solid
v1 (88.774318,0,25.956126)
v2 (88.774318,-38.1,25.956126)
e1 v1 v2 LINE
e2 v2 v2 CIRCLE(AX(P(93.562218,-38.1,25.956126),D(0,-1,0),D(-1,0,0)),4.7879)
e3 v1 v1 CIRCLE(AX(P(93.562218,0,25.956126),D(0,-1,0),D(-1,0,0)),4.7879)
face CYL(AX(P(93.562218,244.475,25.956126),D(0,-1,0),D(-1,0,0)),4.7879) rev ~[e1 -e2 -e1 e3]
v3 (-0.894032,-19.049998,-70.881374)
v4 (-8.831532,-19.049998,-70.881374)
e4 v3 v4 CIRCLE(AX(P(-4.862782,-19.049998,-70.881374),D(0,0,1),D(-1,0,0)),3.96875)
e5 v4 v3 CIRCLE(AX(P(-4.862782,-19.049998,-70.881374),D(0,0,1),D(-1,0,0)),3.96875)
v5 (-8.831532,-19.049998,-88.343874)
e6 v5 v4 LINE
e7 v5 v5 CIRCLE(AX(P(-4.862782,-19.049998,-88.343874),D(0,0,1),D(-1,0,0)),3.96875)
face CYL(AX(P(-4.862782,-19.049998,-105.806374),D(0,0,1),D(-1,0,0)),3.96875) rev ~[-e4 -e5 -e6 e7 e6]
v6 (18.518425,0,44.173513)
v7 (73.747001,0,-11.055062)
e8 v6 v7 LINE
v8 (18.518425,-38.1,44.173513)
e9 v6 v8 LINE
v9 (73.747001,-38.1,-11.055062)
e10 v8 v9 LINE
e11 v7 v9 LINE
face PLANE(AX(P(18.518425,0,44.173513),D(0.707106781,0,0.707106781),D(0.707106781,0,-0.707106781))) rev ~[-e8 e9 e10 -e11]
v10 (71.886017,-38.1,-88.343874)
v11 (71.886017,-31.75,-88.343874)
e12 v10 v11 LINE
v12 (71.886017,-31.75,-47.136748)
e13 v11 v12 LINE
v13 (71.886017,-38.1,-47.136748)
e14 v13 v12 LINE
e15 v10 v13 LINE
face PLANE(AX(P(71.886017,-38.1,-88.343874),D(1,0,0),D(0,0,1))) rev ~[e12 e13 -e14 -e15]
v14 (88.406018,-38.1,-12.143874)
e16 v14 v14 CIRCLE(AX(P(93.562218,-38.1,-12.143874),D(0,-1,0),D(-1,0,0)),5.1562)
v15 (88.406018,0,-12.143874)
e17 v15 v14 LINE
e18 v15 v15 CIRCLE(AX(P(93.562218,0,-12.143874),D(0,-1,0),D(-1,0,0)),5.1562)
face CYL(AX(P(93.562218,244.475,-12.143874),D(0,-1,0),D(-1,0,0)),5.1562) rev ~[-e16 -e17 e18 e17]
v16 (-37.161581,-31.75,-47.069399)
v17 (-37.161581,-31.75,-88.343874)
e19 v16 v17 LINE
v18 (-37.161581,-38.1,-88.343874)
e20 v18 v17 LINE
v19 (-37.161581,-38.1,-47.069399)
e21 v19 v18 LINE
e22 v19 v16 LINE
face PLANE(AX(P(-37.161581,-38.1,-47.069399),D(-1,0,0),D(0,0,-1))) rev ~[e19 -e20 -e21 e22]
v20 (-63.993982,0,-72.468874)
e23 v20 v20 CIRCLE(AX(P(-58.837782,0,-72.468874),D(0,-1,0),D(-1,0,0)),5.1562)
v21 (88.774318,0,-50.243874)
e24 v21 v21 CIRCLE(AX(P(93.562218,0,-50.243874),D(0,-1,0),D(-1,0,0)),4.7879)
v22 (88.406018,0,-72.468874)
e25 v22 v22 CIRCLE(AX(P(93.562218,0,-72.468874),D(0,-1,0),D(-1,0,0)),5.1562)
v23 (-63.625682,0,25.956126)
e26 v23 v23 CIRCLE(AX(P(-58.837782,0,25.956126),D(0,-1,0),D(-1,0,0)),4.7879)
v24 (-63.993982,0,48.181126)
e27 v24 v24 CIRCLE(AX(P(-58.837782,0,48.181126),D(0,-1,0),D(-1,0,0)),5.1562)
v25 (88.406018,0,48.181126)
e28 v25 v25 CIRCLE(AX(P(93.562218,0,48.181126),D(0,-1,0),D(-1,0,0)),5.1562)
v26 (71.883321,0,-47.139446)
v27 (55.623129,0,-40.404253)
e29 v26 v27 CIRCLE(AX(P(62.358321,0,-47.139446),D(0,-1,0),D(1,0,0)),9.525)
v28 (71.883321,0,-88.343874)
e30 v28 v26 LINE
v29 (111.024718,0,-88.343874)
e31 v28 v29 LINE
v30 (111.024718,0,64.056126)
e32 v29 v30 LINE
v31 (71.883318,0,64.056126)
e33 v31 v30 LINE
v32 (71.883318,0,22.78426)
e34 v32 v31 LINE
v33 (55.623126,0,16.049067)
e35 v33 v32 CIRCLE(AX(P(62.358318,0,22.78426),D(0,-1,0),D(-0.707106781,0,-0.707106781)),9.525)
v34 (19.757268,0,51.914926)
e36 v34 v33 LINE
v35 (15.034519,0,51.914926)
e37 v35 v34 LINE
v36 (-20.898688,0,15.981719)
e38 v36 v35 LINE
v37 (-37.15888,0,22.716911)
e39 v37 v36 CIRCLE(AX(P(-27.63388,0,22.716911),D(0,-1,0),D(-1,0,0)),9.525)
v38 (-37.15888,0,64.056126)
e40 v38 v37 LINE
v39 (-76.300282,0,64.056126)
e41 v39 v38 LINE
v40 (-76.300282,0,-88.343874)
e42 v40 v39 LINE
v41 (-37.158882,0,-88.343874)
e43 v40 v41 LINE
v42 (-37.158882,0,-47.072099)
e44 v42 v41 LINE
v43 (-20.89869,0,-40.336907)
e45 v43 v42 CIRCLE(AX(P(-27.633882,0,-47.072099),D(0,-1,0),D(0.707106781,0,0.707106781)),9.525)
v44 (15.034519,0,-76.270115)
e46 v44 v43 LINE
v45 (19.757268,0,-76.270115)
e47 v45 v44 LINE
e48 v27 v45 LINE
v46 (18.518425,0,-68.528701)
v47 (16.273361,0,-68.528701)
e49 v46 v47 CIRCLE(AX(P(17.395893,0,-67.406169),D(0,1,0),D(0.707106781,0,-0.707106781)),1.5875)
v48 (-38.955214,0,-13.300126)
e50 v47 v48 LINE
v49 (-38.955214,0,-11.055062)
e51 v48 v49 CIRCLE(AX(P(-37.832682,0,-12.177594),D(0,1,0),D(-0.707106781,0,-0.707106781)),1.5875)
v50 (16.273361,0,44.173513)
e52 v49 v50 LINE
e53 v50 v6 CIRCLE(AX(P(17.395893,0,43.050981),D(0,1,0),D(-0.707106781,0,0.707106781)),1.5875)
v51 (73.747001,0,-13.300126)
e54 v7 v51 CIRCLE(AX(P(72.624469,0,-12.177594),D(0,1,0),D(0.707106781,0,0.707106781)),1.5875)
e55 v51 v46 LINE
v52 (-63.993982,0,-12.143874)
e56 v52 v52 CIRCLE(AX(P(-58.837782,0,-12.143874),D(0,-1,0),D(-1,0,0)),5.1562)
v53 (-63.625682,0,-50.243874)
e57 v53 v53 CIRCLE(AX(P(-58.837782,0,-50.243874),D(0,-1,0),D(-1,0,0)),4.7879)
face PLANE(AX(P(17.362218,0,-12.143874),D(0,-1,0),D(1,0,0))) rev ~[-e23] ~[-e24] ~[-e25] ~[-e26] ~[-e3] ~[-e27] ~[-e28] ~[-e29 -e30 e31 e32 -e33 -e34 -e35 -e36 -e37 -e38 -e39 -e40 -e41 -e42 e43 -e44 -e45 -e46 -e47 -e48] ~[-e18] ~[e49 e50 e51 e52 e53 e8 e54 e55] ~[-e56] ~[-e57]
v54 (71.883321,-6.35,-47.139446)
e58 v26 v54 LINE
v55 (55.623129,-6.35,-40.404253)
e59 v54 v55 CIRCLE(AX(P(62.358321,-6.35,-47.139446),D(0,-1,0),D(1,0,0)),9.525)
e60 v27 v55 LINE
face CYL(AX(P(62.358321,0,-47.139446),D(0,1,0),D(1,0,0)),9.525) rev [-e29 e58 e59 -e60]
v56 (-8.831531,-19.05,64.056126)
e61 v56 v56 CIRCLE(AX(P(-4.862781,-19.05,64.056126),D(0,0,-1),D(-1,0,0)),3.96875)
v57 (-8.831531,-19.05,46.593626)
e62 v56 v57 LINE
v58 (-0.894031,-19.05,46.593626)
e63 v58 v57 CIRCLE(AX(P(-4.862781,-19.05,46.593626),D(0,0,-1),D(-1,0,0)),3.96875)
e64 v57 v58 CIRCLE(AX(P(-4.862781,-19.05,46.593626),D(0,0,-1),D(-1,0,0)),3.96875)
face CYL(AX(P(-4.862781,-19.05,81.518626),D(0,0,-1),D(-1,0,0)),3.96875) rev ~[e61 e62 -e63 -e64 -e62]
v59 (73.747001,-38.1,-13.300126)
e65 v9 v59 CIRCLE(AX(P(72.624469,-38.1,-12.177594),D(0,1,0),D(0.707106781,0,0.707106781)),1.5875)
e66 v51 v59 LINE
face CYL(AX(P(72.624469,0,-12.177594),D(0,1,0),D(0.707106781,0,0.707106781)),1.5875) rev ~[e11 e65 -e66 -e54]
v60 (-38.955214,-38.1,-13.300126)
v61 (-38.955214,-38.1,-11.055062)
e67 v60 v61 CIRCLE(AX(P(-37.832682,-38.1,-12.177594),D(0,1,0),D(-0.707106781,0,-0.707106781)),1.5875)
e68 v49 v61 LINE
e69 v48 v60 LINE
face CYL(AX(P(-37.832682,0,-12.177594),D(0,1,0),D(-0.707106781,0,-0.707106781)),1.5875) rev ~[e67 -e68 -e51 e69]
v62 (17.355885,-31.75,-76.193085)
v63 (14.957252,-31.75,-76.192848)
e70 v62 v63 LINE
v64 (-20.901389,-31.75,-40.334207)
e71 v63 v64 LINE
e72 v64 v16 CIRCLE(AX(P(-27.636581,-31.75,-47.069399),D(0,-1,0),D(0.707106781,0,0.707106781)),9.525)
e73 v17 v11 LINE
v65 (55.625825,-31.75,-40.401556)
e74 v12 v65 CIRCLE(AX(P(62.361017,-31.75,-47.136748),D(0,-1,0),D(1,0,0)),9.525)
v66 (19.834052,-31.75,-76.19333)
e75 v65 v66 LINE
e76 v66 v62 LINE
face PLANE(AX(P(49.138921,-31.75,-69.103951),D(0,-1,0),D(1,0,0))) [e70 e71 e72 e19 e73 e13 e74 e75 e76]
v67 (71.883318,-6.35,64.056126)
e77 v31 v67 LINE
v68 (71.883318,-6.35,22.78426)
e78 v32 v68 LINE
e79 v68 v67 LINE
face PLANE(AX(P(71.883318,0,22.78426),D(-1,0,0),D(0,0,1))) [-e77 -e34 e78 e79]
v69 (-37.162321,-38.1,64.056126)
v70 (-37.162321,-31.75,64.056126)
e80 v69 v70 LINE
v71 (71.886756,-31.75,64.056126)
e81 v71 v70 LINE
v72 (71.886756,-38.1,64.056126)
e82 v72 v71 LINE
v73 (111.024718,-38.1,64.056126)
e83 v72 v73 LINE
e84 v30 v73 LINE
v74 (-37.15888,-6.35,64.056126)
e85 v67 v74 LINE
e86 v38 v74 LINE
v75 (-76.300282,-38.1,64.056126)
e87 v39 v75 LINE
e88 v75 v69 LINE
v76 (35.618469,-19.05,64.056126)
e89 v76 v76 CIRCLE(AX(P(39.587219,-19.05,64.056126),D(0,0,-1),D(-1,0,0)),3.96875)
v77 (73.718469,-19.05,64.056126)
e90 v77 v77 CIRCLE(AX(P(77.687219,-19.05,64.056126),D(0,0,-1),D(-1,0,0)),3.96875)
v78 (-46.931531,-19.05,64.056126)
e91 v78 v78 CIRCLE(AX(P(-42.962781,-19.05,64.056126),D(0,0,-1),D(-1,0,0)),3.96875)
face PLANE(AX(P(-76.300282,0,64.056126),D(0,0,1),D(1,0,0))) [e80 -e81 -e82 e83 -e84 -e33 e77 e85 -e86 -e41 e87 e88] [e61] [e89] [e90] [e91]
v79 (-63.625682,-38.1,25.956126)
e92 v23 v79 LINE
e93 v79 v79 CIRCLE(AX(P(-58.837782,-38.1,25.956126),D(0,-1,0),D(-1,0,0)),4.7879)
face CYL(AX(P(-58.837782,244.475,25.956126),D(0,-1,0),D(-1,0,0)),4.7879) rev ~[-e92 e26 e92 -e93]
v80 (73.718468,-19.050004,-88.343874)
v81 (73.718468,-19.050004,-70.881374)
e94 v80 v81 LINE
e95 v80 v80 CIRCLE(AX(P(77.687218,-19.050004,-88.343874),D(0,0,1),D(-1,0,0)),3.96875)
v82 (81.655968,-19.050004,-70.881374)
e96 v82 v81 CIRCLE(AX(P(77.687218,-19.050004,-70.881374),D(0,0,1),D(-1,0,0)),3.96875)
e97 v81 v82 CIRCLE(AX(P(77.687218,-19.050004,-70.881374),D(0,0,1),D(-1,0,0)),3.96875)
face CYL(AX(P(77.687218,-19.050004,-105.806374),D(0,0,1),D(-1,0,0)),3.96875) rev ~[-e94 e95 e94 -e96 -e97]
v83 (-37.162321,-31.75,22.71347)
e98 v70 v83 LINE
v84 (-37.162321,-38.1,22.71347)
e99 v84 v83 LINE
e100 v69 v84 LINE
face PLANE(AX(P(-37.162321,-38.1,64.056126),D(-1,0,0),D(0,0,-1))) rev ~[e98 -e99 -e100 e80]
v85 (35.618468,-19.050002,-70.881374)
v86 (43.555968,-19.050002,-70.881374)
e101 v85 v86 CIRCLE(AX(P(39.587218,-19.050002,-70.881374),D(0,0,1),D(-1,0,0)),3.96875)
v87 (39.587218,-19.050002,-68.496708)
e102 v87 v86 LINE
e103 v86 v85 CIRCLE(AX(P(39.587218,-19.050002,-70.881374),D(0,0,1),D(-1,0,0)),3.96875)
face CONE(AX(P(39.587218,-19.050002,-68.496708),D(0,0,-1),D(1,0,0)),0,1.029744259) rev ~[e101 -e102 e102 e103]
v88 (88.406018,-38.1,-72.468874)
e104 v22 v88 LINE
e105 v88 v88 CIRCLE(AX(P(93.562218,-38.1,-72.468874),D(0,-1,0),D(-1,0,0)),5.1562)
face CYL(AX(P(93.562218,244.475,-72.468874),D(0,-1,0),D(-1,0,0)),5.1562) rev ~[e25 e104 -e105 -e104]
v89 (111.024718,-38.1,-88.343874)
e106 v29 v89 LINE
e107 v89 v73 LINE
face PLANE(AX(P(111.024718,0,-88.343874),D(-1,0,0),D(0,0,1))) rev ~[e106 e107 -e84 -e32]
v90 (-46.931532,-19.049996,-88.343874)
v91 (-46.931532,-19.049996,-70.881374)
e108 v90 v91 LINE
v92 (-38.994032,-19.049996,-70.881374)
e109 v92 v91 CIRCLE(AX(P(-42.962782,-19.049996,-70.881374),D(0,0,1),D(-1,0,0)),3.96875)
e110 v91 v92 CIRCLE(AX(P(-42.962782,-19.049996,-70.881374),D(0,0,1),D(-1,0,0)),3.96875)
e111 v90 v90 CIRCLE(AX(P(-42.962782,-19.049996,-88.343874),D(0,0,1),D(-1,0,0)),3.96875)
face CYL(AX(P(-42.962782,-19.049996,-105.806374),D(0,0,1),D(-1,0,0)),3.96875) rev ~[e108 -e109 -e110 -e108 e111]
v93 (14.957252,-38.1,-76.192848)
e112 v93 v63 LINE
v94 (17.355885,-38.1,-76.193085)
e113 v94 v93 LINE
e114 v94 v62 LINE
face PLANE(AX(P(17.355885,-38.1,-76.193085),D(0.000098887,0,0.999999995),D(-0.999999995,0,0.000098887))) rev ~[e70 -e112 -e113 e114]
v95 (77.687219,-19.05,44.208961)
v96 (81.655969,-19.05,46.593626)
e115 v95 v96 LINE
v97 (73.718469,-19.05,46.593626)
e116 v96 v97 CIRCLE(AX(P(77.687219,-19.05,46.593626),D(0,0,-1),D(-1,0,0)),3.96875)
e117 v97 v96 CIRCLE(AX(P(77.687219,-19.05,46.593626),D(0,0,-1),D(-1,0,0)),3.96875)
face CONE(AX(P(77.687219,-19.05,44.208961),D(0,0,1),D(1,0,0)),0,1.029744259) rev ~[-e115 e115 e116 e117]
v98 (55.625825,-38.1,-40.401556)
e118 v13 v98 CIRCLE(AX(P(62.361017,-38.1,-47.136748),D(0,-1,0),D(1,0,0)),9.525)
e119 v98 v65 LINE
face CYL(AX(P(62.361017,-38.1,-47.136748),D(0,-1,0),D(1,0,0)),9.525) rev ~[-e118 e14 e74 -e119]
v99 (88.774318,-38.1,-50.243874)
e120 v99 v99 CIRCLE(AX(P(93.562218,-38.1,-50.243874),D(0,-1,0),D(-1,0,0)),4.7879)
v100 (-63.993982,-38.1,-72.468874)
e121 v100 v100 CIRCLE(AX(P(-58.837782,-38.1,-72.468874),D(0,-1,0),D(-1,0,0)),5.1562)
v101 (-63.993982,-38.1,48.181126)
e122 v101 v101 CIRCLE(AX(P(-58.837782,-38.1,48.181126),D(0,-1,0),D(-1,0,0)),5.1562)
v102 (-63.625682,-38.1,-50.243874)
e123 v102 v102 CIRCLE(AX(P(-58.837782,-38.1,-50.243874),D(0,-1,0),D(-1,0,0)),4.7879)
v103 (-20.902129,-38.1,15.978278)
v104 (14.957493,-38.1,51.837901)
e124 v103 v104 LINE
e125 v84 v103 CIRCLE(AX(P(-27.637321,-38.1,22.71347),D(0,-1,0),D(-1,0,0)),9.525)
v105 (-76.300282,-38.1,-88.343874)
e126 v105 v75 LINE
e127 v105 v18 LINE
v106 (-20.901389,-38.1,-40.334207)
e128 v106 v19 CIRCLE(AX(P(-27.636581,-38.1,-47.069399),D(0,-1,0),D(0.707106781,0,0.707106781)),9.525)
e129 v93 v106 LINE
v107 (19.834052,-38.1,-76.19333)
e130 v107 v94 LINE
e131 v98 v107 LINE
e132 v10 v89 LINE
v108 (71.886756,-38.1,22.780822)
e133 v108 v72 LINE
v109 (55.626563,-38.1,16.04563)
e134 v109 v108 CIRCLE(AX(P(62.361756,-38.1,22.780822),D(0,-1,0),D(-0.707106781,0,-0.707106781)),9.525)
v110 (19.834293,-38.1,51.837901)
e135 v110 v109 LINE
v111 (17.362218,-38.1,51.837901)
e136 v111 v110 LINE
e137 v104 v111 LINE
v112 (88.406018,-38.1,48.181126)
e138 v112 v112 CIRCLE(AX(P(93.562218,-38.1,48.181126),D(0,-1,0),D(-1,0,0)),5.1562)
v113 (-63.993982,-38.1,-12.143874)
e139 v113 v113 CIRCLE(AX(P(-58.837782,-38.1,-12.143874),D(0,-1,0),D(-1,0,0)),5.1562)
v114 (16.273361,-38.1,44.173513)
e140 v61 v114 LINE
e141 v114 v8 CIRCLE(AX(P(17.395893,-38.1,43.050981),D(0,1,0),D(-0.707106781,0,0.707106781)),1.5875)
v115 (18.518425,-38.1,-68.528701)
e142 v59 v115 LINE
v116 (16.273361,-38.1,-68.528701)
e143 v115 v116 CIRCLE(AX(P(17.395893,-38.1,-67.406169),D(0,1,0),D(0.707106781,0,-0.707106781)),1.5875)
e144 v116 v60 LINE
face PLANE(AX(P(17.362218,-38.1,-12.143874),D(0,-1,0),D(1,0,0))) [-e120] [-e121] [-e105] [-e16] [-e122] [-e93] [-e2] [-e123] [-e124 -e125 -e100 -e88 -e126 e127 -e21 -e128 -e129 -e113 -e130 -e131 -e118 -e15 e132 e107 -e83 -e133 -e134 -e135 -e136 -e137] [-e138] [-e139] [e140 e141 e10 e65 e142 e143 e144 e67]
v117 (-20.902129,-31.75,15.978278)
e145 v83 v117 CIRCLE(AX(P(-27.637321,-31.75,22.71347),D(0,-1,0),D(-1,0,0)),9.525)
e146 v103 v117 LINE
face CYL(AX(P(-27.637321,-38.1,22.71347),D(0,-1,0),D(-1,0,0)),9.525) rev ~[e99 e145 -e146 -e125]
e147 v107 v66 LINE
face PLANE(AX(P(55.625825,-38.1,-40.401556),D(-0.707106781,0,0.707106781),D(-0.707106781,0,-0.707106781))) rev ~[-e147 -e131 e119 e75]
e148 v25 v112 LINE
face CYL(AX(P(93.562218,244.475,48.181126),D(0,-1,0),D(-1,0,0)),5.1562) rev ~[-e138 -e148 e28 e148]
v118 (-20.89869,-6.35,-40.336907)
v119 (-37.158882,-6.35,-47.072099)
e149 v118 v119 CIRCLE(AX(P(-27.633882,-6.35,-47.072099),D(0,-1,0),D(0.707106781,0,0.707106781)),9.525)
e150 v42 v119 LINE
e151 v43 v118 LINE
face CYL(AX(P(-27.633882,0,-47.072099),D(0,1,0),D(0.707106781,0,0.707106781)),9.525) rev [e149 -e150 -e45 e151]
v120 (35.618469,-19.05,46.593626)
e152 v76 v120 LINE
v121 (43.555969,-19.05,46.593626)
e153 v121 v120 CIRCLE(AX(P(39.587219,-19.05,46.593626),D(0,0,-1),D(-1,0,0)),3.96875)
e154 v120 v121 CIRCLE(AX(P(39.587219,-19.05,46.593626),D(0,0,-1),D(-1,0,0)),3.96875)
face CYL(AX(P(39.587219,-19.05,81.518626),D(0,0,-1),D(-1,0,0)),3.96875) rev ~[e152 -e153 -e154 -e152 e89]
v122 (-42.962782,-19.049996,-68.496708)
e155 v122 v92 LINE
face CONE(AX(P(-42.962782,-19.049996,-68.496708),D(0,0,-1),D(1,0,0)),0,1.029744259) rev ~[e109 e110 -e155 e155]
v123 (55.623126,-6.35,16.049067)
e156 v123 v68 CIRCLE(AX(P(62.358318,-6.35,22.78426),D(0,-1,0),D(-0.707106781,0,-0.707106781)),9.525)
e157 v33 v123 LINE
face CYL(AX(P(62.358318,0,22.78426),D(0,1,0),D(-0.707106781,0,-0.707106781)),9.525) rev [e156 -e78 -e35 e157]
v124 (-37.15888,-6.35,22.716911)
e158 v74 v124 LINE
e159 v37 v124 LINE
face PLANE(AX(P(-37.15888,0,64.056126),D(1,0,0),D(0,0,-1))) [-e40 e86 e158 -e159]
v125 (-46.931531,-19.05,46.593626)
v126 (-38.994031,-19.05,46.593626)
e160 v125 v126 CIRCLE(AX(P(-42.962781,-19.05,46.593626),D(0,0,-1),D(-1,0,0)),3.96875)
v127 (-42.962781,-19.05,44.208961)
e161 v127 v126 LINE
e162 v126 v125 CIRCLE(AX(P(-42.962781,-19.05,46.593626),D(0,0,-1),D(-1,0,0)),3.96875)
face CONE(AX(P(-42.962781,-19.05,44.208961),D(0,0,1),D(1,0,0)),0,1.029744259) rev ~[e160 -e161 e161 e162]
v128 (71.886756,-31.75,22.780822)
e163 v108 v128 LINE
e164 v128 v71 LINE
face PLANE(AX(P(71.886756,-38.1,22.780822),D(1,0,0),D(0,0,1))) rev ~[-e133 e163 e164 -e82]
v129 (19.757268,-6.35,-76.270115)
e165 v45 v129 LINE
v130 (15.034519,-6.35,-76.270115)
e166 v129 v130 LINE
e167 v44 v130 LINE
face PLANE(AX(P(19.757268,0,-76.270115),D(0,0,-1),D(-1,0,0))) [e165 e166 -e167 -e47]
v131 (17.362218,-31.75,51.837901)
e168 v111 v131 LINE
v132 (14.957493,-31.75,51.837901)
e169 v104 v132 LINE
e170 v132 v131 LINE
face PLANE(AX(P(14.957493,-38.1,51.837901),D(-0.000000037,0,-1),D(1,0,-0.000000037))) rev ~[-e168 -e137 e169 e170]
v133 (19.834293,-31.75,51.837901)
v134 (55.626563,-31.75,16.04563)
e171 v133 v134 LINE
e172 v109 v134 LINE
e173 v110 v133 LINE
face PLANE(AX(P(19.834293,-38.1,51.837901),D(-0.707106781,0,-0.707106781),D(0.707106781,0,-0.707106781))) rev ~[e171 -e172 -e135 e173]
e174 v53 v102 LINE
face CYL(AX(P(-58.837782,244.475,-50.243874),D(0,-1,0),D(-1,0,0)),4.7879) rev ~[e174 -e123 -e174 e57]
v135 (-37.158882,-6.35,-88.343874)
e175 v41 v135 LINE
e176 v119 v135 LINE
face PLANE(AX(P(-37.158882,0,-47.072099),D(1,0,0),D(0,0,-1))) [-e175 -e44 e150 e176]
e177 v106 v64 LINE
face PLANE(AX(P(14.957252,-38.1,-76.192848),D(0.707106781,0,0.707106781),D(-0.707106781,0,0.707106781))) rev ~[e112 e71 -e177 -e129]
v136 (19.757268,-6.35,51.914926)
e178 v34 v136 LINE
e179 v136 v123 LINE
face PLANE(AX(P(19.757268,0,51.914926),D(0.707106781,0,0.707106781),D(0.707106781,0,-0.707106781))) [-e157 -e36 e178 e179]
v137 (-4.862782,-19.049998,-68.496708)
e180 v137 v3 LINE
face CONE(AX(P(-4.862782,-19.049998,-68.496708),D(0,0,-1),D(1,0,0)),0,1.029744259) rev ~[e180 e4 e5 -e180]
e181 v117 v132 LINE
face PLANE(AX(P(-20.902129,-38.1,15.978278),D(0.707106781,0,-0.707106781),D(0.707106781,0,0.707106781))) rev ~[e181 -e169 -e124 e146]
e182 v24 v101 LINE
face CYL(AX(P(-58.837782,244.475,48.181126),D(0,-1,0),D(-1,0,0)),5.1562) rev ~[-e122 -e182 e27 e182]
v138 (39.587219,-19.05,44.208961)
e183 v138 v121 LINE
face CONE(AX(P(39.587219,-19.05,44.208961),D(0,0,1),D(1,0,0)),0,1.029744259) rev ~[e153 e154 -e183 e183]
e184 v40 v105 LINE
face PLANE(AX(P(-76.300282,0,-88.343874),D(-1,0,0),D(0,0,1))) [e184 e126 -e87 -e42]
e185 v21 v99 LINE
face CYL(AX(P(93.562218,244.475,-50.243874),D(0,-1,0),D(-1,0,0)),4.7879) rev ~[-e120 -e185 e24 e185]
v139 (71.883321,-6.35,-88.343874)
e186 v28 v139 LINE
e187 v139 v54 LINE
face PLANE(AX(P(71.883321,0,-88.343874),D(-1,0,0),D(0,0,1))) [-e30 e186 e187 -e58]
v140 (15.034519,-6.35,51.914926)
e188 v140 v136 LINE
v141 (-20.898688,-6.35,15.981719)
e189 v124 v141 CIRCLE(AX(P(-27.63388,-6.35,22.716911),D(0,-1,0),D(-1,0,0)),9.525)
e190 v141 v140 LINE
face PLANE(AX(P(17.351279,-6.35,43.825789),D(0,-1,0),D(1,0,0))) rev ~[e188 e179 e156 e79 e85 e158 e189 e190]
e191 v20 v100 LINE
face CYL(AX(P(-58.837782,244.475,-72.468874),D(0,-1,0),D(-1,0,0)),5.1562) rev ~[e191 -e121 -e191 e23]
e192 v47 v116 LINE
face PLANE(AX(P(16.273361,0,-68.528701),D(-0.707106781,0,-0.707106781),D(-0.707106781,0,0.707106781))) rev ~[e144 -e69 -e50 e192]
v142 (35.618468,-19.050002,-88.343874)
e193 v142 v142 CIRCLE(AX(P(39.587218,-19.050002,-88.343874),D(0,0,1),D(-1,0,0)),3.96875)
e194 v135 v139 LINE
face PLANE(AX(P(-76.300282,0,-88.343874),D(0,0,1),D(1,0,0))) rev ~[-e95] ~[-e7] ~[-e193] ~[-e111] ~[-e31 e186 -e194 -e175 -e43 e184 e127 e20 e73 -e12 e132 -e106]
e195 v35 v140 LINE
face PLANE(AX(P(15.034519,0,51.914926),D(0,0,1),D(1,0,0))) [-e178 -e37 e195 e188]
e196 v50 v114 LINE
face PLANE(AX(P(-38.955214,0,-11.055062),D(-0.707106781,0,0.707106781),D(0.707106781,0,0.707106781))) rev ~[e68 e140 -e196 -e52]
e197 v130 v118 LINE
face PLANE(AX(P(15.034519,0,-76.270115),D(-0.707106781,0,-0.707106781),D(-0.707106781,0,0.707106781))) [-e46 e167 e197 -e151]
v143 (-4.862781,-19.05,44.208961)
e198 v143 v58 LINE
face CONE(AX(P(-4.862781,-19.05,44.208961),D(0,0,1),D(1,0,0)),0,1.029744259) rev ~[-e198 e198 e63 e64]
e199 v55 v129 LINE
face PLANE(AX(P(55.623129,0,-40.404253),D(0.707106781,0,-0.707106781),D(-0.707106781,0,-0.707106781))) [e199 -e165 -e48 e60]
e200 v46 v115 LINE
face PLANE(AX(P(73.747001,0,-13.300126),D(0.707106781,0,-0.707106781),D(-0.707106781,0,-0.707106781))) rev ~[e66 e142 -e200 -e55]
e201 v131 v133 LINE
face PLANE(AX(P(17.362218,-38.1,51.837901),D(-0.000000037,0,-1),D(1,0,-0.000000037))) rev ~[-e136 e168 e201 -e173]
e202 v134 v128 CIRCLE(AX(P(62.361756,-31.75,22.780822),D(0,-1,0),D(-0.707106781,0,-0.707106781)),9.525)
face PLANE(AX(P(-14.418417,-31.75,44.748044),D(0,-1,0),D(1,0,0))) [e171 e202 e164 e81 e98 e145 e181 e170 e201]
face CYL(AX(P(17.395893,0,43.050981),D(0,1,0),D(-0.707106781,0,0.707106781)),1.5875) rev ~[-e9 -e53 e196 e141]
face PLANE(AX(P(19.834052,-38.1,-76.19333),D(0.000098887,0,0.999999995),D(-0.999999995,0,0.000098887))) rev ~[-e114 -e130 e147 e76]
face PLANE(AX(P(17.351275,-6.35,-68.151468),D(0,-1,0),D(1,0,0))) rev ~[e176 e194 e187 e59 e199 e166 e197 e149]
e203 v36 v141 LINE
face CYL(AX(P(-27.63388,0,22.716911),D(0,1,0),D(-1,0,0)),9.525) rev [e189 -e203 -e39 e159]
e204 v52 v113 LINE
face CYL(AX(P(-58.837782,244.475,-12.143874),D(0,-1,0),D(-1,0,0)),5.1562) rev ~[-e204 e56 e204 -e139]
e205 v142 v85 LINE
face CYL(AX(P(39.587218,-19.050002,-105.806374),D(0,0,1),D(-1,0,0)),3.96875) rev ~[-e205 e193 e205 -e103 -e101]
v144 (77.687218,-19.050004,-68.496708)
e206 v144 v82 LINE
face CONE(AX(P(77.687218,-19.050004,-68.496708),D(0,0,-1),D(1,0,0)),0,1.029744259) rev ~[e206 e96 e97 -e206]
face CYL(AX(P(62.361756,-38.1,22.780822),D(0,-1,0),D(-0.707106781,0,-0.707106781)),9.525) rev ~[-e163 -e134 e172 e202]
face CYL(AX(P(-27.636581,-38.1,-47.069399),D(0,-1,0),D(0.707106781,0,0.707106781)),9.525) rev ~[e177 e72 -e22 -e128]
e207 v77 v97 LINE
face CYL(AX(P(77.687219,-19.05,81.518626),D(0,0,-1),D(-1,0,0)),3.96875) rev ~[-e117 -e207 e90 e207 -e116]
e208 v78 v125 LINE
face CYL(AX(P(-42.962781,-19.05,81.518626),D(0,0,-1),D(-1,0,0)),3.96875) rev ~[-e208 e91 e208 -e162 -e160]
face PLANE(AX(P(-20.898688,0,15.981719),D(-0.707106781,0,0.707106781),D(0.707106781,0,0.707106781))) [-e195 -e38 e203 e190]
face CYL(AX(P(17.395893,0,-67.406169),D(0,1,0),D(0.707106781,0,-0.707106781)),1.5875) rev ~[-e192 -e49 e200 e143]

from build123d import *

# Parameters (mm, degrees)
F0_W      = 187.325
F0_H      = 152.4
F1_DEPTH  = 38.1
F3_D      = 9.5758
F4_DEPTH  = 6.35
F6_DEPTH  = 6.35
F8_D      = 7.9375
F8_DEPTH  = 17.4625
F8_TIP    = 2.3846655818
F10_D     = 7.9375
F10_DEPTH = 17.4625
F10_TIP   = 2.3846655818
F11_D     = 10.3124


with BuildPart() as f1:
    # F0 (on Front) → F1 (new body)
    with BuildSketch(Plane.XZ):
        with Locations((17.3622183502, -12.1438738748)):
            Rectangle(F0_W, F0_H)
        with BuildLine():
            ThreePointArc((73.7470006338, -11.0550622269), (74.2119686187, -12.1775942421), (73.7470006338, -13.3001262572))
            Line((73.7470006338, -13.3001262572), (18.5184254892, -68.5287014018))
            ThreePointArc((18.5184254892, -68.5287014018), (17.3958934741, -68.9936693866), (16.273361459, -68.5287014018))
            Line((16.273361459, -68.5287014018), (-38.9552136856, -13.3001262572))
            ThreePointArc((-38.9552136856, -13.3001262572), (-39.4201816705, -12.1775942421), (-38.9552136856, -11.0550622269))
            Line((-38.9552136856, -11.0550622269), (16.273361459, 44.1735129177))
            ThreePointArc((16.273361459, 44.1735129177), (17.3958934741, 44.6384809025), (18.5184254892, 44.1735129177))
            Line((18.5184254892, 44.1735129177), (73.7470006338, -11.0550622269))
        make_face(mode=Mode.SUBTRACT)
    extrude(amount=F1_DEPTH)

    # F3 (through all)
    with Locations(Plane(origin=(0, 0, 0), x_dir=(1, 0, 0), z_dir=(0, 1, 0))):
        with Locations((-58.8377816498, -25.9561261252), (-58.8377816498, 50.2438738748), (93.5622183502, 50.2438738748), (93.5622183502, -25.9561261252)):
            Hole(F3_D / 2)

    # F2 (on face) → F4 (cut)
    with BuildSketch(Plane.XZ.offset(38.1)):
        with BuildLine():
            Line((-20.9021291893, 15.9782783904), (14.9574931524, 51.8379007322))
            Line((14.9574931524, 51.8379007322), (17.3622183502, 51.8379006441))
            Line((17.3622183502, 51.8379006441), (17.3622183502, 64.0561261252))
            Line((17.3622183502, 64.0561261252), (-37.1623212801, 64.0561261252))
            Line((-37.1623212801, 64.0561261252), (-37.1623212801, 22.7134704812))
            ThreePointArc((-37.1623212801, 22.7134704812), (-31.2823809734, 13.913517934), (-20.9021291893, 15.9782783904))
        make_face()
        with BuildLine():
            Line((17.3622183502, 64.0561261252), (17.3622183502, 51.8379006441))
            Line((17.3622183502, 51.8379006441), (19.8342931524, 51.8379005536))
            Line((19.8342931524, 51.8379005536), (55.6265634353, 16.0456302708))
            ThreePointArc((55.6265634353, 16.0456302708), (66.0068152193, 13.9808698144), (71.8867555261, 22.7808223616))
            Line((71.8867555261, 22.7808223616), (71.8867555261, 64.0561261252))
            Line((71.8867555261, 64.0561261252), (17.3622183502, 64.0561261252))
        make_face()
        with BuildLine():
            Line((19.8340516262, -76.1933300919), (17.3558846933, -76.1930850326))
            Line((17.3558846933, -76.1930850326), (17.354683134, -88.3438738748))
            Line((17.354683134, -88.3438738748), (71.8860174681, -88.3438738748))
            Line((71.8860174681, -88.3438738748), (71.8860174681, -47.1367484316))
            ThreePointArc((71.8860174681, -47.1367484316), (66.0060771614, -38.3367958844), (55.6258253773, -40.4015563408))
            Line((55.6258253773, -40.4015563408), (19.8340516262, -76.1933300919))
        make_face()
        with BuildLine():
            Line((17.354683134, -88.3438738748), (17.3558846933, -76.1930850326))
            Line((17.3558846933, -76.1930850326), (14.9572517743, -76.1928478381))
            Line((14.9572517743, -76.1928478381), (-20.9013891274, -40.3342069364))
            ThreePointArc((-20.9013891274, -40.3342069364), (-31.2816409115, -38.26944648), (-37.1615812182, -47.0693990272))
            Line((-37.1615812182, -47.0693990272), (-37.1615812182, -88.3438738748))
            Line((-37.1615812182, -88.3438738748), (17.354683134, -88.3438738748))
        make_face()
    extrude(amount=-F4_DEPTH, mode=Mode.SUBTRACT)

    # F5 (on face) → F6 (cut)
    with BuildSketch(Plane.XZ):
        with BuildLine():
            Line((15.0345185454, 51.9149261252), (19.7572675809, 51.9149261252))
            Line((19.7572675809, 51.9149261252), (55.6231262594, 16.0490674467))
            ThreePointArc((55.6231262594, 16.0490674467), (66.0033780434, 13.9843069903), (71.8833183502, 22.7842595375))
            Line((71.8833183502, 22.7842595375), (71.8833183502, 64.0561261252))
            Line((71.8833183502, 64.0561261252), (-37.1588803828, 64.0561261252))
            Line((-37.1588803828, 64.0561261252), (-37.1588803828, 22.7169113786))
            ThreePointArc((-37.1588803828, 22.7169113786), (-31.2789400761, 13.9169588314), (-20.898688292, 15.9817192878))
            Line((-20.898688292, 15.9817192878), (15.0345185454, 51.9149261252))
        make_face()
        with BuildLine():
            Line((-37.1588816498, -88.3438738748), (71.8833208084, -88.3438738748))
            Line((71.8833208084, -88.3438738748), (71.8833208084, -47.1394455633))
            ThreePointArc((71.8833208084, -47.1394455633), (66.0033805017, -38.3394930162), (55.6231287176, -40.4042534725))
            Line((55.6231287176, -40.4042534725), (19.7572675809, -76.2701146093))
            Line((19.7572675809, -76.2701146093), (15.0345185454, -76.2701146093))
            Line((15.0345185454, -76.2701146093), (-20.898689559, -40.3369065048))
            ThreePointArc((-20.898689559, -40.3369065048), (-31.2789413431, -38.2721460485), (-37.1588816498, -47.0720985956))
            Line((-37.1588816498, -47.0720985956), (-37.1588816498, -88.3438738748))
        make_face()
    extrude(amount=F6_DEPTH, mode=Mode.SUBTRACT)

    # F8
    with Locations(Plane(origin=(0, 0, -88.3438738748), x_dir=(1, 0, 0), z_dir=(0, 0, -1))):
        with Locations((-42.9627819467, 19.0499955808), (-4.8627819467, 19.0499983719), (77.6872180533, 19.0500044192), (39.5872180533, 19.0500016281)):
            Hole(F8_D / 2, depth=F8_DEPTH)
            with Locations((0, 0, -(F8_DEPTH + F8_TIP / 2))):  # 118° drill point
                Cone(0, F8_D / 2, F8_TIP, mode=Mode.SUBTRACT)

    # F10
    with Locations(Plane.XY.offset(64.0561261252)):
        with Locations((-42.9627810163, -19.05), (-4.8627810163, -19.05), (39.5872189837, -19.05), (77.6872189837, -19.05)):
            Hole(F10_D / 2, depth=F10_DEPTH)
            with Locations((0, 0, -(F10_DEPTH + F10_TIP / 2))):  # 118° drill point
                Cone(0, F10_D / 2, F10_TIP, mode=Mode.SUBTRACT)

    # F11 (through all)
    with Locations(Plane(origin=(0, 0, 0), x_dir=(1, 0, 0), z_dir=(0, 1, 0))):
        with Locations((-58.8377816498, 72.4688738748), (-58.8377816498, 12.1438738748), (-58.8377816498, -48.1811261252), (93.5622183502, -48.1811261252), (93.5622183502, 12.1438738748), (93.5622183502, 72.4688738748)):
            Hole(F11_D / 2)


solid = f1.part
